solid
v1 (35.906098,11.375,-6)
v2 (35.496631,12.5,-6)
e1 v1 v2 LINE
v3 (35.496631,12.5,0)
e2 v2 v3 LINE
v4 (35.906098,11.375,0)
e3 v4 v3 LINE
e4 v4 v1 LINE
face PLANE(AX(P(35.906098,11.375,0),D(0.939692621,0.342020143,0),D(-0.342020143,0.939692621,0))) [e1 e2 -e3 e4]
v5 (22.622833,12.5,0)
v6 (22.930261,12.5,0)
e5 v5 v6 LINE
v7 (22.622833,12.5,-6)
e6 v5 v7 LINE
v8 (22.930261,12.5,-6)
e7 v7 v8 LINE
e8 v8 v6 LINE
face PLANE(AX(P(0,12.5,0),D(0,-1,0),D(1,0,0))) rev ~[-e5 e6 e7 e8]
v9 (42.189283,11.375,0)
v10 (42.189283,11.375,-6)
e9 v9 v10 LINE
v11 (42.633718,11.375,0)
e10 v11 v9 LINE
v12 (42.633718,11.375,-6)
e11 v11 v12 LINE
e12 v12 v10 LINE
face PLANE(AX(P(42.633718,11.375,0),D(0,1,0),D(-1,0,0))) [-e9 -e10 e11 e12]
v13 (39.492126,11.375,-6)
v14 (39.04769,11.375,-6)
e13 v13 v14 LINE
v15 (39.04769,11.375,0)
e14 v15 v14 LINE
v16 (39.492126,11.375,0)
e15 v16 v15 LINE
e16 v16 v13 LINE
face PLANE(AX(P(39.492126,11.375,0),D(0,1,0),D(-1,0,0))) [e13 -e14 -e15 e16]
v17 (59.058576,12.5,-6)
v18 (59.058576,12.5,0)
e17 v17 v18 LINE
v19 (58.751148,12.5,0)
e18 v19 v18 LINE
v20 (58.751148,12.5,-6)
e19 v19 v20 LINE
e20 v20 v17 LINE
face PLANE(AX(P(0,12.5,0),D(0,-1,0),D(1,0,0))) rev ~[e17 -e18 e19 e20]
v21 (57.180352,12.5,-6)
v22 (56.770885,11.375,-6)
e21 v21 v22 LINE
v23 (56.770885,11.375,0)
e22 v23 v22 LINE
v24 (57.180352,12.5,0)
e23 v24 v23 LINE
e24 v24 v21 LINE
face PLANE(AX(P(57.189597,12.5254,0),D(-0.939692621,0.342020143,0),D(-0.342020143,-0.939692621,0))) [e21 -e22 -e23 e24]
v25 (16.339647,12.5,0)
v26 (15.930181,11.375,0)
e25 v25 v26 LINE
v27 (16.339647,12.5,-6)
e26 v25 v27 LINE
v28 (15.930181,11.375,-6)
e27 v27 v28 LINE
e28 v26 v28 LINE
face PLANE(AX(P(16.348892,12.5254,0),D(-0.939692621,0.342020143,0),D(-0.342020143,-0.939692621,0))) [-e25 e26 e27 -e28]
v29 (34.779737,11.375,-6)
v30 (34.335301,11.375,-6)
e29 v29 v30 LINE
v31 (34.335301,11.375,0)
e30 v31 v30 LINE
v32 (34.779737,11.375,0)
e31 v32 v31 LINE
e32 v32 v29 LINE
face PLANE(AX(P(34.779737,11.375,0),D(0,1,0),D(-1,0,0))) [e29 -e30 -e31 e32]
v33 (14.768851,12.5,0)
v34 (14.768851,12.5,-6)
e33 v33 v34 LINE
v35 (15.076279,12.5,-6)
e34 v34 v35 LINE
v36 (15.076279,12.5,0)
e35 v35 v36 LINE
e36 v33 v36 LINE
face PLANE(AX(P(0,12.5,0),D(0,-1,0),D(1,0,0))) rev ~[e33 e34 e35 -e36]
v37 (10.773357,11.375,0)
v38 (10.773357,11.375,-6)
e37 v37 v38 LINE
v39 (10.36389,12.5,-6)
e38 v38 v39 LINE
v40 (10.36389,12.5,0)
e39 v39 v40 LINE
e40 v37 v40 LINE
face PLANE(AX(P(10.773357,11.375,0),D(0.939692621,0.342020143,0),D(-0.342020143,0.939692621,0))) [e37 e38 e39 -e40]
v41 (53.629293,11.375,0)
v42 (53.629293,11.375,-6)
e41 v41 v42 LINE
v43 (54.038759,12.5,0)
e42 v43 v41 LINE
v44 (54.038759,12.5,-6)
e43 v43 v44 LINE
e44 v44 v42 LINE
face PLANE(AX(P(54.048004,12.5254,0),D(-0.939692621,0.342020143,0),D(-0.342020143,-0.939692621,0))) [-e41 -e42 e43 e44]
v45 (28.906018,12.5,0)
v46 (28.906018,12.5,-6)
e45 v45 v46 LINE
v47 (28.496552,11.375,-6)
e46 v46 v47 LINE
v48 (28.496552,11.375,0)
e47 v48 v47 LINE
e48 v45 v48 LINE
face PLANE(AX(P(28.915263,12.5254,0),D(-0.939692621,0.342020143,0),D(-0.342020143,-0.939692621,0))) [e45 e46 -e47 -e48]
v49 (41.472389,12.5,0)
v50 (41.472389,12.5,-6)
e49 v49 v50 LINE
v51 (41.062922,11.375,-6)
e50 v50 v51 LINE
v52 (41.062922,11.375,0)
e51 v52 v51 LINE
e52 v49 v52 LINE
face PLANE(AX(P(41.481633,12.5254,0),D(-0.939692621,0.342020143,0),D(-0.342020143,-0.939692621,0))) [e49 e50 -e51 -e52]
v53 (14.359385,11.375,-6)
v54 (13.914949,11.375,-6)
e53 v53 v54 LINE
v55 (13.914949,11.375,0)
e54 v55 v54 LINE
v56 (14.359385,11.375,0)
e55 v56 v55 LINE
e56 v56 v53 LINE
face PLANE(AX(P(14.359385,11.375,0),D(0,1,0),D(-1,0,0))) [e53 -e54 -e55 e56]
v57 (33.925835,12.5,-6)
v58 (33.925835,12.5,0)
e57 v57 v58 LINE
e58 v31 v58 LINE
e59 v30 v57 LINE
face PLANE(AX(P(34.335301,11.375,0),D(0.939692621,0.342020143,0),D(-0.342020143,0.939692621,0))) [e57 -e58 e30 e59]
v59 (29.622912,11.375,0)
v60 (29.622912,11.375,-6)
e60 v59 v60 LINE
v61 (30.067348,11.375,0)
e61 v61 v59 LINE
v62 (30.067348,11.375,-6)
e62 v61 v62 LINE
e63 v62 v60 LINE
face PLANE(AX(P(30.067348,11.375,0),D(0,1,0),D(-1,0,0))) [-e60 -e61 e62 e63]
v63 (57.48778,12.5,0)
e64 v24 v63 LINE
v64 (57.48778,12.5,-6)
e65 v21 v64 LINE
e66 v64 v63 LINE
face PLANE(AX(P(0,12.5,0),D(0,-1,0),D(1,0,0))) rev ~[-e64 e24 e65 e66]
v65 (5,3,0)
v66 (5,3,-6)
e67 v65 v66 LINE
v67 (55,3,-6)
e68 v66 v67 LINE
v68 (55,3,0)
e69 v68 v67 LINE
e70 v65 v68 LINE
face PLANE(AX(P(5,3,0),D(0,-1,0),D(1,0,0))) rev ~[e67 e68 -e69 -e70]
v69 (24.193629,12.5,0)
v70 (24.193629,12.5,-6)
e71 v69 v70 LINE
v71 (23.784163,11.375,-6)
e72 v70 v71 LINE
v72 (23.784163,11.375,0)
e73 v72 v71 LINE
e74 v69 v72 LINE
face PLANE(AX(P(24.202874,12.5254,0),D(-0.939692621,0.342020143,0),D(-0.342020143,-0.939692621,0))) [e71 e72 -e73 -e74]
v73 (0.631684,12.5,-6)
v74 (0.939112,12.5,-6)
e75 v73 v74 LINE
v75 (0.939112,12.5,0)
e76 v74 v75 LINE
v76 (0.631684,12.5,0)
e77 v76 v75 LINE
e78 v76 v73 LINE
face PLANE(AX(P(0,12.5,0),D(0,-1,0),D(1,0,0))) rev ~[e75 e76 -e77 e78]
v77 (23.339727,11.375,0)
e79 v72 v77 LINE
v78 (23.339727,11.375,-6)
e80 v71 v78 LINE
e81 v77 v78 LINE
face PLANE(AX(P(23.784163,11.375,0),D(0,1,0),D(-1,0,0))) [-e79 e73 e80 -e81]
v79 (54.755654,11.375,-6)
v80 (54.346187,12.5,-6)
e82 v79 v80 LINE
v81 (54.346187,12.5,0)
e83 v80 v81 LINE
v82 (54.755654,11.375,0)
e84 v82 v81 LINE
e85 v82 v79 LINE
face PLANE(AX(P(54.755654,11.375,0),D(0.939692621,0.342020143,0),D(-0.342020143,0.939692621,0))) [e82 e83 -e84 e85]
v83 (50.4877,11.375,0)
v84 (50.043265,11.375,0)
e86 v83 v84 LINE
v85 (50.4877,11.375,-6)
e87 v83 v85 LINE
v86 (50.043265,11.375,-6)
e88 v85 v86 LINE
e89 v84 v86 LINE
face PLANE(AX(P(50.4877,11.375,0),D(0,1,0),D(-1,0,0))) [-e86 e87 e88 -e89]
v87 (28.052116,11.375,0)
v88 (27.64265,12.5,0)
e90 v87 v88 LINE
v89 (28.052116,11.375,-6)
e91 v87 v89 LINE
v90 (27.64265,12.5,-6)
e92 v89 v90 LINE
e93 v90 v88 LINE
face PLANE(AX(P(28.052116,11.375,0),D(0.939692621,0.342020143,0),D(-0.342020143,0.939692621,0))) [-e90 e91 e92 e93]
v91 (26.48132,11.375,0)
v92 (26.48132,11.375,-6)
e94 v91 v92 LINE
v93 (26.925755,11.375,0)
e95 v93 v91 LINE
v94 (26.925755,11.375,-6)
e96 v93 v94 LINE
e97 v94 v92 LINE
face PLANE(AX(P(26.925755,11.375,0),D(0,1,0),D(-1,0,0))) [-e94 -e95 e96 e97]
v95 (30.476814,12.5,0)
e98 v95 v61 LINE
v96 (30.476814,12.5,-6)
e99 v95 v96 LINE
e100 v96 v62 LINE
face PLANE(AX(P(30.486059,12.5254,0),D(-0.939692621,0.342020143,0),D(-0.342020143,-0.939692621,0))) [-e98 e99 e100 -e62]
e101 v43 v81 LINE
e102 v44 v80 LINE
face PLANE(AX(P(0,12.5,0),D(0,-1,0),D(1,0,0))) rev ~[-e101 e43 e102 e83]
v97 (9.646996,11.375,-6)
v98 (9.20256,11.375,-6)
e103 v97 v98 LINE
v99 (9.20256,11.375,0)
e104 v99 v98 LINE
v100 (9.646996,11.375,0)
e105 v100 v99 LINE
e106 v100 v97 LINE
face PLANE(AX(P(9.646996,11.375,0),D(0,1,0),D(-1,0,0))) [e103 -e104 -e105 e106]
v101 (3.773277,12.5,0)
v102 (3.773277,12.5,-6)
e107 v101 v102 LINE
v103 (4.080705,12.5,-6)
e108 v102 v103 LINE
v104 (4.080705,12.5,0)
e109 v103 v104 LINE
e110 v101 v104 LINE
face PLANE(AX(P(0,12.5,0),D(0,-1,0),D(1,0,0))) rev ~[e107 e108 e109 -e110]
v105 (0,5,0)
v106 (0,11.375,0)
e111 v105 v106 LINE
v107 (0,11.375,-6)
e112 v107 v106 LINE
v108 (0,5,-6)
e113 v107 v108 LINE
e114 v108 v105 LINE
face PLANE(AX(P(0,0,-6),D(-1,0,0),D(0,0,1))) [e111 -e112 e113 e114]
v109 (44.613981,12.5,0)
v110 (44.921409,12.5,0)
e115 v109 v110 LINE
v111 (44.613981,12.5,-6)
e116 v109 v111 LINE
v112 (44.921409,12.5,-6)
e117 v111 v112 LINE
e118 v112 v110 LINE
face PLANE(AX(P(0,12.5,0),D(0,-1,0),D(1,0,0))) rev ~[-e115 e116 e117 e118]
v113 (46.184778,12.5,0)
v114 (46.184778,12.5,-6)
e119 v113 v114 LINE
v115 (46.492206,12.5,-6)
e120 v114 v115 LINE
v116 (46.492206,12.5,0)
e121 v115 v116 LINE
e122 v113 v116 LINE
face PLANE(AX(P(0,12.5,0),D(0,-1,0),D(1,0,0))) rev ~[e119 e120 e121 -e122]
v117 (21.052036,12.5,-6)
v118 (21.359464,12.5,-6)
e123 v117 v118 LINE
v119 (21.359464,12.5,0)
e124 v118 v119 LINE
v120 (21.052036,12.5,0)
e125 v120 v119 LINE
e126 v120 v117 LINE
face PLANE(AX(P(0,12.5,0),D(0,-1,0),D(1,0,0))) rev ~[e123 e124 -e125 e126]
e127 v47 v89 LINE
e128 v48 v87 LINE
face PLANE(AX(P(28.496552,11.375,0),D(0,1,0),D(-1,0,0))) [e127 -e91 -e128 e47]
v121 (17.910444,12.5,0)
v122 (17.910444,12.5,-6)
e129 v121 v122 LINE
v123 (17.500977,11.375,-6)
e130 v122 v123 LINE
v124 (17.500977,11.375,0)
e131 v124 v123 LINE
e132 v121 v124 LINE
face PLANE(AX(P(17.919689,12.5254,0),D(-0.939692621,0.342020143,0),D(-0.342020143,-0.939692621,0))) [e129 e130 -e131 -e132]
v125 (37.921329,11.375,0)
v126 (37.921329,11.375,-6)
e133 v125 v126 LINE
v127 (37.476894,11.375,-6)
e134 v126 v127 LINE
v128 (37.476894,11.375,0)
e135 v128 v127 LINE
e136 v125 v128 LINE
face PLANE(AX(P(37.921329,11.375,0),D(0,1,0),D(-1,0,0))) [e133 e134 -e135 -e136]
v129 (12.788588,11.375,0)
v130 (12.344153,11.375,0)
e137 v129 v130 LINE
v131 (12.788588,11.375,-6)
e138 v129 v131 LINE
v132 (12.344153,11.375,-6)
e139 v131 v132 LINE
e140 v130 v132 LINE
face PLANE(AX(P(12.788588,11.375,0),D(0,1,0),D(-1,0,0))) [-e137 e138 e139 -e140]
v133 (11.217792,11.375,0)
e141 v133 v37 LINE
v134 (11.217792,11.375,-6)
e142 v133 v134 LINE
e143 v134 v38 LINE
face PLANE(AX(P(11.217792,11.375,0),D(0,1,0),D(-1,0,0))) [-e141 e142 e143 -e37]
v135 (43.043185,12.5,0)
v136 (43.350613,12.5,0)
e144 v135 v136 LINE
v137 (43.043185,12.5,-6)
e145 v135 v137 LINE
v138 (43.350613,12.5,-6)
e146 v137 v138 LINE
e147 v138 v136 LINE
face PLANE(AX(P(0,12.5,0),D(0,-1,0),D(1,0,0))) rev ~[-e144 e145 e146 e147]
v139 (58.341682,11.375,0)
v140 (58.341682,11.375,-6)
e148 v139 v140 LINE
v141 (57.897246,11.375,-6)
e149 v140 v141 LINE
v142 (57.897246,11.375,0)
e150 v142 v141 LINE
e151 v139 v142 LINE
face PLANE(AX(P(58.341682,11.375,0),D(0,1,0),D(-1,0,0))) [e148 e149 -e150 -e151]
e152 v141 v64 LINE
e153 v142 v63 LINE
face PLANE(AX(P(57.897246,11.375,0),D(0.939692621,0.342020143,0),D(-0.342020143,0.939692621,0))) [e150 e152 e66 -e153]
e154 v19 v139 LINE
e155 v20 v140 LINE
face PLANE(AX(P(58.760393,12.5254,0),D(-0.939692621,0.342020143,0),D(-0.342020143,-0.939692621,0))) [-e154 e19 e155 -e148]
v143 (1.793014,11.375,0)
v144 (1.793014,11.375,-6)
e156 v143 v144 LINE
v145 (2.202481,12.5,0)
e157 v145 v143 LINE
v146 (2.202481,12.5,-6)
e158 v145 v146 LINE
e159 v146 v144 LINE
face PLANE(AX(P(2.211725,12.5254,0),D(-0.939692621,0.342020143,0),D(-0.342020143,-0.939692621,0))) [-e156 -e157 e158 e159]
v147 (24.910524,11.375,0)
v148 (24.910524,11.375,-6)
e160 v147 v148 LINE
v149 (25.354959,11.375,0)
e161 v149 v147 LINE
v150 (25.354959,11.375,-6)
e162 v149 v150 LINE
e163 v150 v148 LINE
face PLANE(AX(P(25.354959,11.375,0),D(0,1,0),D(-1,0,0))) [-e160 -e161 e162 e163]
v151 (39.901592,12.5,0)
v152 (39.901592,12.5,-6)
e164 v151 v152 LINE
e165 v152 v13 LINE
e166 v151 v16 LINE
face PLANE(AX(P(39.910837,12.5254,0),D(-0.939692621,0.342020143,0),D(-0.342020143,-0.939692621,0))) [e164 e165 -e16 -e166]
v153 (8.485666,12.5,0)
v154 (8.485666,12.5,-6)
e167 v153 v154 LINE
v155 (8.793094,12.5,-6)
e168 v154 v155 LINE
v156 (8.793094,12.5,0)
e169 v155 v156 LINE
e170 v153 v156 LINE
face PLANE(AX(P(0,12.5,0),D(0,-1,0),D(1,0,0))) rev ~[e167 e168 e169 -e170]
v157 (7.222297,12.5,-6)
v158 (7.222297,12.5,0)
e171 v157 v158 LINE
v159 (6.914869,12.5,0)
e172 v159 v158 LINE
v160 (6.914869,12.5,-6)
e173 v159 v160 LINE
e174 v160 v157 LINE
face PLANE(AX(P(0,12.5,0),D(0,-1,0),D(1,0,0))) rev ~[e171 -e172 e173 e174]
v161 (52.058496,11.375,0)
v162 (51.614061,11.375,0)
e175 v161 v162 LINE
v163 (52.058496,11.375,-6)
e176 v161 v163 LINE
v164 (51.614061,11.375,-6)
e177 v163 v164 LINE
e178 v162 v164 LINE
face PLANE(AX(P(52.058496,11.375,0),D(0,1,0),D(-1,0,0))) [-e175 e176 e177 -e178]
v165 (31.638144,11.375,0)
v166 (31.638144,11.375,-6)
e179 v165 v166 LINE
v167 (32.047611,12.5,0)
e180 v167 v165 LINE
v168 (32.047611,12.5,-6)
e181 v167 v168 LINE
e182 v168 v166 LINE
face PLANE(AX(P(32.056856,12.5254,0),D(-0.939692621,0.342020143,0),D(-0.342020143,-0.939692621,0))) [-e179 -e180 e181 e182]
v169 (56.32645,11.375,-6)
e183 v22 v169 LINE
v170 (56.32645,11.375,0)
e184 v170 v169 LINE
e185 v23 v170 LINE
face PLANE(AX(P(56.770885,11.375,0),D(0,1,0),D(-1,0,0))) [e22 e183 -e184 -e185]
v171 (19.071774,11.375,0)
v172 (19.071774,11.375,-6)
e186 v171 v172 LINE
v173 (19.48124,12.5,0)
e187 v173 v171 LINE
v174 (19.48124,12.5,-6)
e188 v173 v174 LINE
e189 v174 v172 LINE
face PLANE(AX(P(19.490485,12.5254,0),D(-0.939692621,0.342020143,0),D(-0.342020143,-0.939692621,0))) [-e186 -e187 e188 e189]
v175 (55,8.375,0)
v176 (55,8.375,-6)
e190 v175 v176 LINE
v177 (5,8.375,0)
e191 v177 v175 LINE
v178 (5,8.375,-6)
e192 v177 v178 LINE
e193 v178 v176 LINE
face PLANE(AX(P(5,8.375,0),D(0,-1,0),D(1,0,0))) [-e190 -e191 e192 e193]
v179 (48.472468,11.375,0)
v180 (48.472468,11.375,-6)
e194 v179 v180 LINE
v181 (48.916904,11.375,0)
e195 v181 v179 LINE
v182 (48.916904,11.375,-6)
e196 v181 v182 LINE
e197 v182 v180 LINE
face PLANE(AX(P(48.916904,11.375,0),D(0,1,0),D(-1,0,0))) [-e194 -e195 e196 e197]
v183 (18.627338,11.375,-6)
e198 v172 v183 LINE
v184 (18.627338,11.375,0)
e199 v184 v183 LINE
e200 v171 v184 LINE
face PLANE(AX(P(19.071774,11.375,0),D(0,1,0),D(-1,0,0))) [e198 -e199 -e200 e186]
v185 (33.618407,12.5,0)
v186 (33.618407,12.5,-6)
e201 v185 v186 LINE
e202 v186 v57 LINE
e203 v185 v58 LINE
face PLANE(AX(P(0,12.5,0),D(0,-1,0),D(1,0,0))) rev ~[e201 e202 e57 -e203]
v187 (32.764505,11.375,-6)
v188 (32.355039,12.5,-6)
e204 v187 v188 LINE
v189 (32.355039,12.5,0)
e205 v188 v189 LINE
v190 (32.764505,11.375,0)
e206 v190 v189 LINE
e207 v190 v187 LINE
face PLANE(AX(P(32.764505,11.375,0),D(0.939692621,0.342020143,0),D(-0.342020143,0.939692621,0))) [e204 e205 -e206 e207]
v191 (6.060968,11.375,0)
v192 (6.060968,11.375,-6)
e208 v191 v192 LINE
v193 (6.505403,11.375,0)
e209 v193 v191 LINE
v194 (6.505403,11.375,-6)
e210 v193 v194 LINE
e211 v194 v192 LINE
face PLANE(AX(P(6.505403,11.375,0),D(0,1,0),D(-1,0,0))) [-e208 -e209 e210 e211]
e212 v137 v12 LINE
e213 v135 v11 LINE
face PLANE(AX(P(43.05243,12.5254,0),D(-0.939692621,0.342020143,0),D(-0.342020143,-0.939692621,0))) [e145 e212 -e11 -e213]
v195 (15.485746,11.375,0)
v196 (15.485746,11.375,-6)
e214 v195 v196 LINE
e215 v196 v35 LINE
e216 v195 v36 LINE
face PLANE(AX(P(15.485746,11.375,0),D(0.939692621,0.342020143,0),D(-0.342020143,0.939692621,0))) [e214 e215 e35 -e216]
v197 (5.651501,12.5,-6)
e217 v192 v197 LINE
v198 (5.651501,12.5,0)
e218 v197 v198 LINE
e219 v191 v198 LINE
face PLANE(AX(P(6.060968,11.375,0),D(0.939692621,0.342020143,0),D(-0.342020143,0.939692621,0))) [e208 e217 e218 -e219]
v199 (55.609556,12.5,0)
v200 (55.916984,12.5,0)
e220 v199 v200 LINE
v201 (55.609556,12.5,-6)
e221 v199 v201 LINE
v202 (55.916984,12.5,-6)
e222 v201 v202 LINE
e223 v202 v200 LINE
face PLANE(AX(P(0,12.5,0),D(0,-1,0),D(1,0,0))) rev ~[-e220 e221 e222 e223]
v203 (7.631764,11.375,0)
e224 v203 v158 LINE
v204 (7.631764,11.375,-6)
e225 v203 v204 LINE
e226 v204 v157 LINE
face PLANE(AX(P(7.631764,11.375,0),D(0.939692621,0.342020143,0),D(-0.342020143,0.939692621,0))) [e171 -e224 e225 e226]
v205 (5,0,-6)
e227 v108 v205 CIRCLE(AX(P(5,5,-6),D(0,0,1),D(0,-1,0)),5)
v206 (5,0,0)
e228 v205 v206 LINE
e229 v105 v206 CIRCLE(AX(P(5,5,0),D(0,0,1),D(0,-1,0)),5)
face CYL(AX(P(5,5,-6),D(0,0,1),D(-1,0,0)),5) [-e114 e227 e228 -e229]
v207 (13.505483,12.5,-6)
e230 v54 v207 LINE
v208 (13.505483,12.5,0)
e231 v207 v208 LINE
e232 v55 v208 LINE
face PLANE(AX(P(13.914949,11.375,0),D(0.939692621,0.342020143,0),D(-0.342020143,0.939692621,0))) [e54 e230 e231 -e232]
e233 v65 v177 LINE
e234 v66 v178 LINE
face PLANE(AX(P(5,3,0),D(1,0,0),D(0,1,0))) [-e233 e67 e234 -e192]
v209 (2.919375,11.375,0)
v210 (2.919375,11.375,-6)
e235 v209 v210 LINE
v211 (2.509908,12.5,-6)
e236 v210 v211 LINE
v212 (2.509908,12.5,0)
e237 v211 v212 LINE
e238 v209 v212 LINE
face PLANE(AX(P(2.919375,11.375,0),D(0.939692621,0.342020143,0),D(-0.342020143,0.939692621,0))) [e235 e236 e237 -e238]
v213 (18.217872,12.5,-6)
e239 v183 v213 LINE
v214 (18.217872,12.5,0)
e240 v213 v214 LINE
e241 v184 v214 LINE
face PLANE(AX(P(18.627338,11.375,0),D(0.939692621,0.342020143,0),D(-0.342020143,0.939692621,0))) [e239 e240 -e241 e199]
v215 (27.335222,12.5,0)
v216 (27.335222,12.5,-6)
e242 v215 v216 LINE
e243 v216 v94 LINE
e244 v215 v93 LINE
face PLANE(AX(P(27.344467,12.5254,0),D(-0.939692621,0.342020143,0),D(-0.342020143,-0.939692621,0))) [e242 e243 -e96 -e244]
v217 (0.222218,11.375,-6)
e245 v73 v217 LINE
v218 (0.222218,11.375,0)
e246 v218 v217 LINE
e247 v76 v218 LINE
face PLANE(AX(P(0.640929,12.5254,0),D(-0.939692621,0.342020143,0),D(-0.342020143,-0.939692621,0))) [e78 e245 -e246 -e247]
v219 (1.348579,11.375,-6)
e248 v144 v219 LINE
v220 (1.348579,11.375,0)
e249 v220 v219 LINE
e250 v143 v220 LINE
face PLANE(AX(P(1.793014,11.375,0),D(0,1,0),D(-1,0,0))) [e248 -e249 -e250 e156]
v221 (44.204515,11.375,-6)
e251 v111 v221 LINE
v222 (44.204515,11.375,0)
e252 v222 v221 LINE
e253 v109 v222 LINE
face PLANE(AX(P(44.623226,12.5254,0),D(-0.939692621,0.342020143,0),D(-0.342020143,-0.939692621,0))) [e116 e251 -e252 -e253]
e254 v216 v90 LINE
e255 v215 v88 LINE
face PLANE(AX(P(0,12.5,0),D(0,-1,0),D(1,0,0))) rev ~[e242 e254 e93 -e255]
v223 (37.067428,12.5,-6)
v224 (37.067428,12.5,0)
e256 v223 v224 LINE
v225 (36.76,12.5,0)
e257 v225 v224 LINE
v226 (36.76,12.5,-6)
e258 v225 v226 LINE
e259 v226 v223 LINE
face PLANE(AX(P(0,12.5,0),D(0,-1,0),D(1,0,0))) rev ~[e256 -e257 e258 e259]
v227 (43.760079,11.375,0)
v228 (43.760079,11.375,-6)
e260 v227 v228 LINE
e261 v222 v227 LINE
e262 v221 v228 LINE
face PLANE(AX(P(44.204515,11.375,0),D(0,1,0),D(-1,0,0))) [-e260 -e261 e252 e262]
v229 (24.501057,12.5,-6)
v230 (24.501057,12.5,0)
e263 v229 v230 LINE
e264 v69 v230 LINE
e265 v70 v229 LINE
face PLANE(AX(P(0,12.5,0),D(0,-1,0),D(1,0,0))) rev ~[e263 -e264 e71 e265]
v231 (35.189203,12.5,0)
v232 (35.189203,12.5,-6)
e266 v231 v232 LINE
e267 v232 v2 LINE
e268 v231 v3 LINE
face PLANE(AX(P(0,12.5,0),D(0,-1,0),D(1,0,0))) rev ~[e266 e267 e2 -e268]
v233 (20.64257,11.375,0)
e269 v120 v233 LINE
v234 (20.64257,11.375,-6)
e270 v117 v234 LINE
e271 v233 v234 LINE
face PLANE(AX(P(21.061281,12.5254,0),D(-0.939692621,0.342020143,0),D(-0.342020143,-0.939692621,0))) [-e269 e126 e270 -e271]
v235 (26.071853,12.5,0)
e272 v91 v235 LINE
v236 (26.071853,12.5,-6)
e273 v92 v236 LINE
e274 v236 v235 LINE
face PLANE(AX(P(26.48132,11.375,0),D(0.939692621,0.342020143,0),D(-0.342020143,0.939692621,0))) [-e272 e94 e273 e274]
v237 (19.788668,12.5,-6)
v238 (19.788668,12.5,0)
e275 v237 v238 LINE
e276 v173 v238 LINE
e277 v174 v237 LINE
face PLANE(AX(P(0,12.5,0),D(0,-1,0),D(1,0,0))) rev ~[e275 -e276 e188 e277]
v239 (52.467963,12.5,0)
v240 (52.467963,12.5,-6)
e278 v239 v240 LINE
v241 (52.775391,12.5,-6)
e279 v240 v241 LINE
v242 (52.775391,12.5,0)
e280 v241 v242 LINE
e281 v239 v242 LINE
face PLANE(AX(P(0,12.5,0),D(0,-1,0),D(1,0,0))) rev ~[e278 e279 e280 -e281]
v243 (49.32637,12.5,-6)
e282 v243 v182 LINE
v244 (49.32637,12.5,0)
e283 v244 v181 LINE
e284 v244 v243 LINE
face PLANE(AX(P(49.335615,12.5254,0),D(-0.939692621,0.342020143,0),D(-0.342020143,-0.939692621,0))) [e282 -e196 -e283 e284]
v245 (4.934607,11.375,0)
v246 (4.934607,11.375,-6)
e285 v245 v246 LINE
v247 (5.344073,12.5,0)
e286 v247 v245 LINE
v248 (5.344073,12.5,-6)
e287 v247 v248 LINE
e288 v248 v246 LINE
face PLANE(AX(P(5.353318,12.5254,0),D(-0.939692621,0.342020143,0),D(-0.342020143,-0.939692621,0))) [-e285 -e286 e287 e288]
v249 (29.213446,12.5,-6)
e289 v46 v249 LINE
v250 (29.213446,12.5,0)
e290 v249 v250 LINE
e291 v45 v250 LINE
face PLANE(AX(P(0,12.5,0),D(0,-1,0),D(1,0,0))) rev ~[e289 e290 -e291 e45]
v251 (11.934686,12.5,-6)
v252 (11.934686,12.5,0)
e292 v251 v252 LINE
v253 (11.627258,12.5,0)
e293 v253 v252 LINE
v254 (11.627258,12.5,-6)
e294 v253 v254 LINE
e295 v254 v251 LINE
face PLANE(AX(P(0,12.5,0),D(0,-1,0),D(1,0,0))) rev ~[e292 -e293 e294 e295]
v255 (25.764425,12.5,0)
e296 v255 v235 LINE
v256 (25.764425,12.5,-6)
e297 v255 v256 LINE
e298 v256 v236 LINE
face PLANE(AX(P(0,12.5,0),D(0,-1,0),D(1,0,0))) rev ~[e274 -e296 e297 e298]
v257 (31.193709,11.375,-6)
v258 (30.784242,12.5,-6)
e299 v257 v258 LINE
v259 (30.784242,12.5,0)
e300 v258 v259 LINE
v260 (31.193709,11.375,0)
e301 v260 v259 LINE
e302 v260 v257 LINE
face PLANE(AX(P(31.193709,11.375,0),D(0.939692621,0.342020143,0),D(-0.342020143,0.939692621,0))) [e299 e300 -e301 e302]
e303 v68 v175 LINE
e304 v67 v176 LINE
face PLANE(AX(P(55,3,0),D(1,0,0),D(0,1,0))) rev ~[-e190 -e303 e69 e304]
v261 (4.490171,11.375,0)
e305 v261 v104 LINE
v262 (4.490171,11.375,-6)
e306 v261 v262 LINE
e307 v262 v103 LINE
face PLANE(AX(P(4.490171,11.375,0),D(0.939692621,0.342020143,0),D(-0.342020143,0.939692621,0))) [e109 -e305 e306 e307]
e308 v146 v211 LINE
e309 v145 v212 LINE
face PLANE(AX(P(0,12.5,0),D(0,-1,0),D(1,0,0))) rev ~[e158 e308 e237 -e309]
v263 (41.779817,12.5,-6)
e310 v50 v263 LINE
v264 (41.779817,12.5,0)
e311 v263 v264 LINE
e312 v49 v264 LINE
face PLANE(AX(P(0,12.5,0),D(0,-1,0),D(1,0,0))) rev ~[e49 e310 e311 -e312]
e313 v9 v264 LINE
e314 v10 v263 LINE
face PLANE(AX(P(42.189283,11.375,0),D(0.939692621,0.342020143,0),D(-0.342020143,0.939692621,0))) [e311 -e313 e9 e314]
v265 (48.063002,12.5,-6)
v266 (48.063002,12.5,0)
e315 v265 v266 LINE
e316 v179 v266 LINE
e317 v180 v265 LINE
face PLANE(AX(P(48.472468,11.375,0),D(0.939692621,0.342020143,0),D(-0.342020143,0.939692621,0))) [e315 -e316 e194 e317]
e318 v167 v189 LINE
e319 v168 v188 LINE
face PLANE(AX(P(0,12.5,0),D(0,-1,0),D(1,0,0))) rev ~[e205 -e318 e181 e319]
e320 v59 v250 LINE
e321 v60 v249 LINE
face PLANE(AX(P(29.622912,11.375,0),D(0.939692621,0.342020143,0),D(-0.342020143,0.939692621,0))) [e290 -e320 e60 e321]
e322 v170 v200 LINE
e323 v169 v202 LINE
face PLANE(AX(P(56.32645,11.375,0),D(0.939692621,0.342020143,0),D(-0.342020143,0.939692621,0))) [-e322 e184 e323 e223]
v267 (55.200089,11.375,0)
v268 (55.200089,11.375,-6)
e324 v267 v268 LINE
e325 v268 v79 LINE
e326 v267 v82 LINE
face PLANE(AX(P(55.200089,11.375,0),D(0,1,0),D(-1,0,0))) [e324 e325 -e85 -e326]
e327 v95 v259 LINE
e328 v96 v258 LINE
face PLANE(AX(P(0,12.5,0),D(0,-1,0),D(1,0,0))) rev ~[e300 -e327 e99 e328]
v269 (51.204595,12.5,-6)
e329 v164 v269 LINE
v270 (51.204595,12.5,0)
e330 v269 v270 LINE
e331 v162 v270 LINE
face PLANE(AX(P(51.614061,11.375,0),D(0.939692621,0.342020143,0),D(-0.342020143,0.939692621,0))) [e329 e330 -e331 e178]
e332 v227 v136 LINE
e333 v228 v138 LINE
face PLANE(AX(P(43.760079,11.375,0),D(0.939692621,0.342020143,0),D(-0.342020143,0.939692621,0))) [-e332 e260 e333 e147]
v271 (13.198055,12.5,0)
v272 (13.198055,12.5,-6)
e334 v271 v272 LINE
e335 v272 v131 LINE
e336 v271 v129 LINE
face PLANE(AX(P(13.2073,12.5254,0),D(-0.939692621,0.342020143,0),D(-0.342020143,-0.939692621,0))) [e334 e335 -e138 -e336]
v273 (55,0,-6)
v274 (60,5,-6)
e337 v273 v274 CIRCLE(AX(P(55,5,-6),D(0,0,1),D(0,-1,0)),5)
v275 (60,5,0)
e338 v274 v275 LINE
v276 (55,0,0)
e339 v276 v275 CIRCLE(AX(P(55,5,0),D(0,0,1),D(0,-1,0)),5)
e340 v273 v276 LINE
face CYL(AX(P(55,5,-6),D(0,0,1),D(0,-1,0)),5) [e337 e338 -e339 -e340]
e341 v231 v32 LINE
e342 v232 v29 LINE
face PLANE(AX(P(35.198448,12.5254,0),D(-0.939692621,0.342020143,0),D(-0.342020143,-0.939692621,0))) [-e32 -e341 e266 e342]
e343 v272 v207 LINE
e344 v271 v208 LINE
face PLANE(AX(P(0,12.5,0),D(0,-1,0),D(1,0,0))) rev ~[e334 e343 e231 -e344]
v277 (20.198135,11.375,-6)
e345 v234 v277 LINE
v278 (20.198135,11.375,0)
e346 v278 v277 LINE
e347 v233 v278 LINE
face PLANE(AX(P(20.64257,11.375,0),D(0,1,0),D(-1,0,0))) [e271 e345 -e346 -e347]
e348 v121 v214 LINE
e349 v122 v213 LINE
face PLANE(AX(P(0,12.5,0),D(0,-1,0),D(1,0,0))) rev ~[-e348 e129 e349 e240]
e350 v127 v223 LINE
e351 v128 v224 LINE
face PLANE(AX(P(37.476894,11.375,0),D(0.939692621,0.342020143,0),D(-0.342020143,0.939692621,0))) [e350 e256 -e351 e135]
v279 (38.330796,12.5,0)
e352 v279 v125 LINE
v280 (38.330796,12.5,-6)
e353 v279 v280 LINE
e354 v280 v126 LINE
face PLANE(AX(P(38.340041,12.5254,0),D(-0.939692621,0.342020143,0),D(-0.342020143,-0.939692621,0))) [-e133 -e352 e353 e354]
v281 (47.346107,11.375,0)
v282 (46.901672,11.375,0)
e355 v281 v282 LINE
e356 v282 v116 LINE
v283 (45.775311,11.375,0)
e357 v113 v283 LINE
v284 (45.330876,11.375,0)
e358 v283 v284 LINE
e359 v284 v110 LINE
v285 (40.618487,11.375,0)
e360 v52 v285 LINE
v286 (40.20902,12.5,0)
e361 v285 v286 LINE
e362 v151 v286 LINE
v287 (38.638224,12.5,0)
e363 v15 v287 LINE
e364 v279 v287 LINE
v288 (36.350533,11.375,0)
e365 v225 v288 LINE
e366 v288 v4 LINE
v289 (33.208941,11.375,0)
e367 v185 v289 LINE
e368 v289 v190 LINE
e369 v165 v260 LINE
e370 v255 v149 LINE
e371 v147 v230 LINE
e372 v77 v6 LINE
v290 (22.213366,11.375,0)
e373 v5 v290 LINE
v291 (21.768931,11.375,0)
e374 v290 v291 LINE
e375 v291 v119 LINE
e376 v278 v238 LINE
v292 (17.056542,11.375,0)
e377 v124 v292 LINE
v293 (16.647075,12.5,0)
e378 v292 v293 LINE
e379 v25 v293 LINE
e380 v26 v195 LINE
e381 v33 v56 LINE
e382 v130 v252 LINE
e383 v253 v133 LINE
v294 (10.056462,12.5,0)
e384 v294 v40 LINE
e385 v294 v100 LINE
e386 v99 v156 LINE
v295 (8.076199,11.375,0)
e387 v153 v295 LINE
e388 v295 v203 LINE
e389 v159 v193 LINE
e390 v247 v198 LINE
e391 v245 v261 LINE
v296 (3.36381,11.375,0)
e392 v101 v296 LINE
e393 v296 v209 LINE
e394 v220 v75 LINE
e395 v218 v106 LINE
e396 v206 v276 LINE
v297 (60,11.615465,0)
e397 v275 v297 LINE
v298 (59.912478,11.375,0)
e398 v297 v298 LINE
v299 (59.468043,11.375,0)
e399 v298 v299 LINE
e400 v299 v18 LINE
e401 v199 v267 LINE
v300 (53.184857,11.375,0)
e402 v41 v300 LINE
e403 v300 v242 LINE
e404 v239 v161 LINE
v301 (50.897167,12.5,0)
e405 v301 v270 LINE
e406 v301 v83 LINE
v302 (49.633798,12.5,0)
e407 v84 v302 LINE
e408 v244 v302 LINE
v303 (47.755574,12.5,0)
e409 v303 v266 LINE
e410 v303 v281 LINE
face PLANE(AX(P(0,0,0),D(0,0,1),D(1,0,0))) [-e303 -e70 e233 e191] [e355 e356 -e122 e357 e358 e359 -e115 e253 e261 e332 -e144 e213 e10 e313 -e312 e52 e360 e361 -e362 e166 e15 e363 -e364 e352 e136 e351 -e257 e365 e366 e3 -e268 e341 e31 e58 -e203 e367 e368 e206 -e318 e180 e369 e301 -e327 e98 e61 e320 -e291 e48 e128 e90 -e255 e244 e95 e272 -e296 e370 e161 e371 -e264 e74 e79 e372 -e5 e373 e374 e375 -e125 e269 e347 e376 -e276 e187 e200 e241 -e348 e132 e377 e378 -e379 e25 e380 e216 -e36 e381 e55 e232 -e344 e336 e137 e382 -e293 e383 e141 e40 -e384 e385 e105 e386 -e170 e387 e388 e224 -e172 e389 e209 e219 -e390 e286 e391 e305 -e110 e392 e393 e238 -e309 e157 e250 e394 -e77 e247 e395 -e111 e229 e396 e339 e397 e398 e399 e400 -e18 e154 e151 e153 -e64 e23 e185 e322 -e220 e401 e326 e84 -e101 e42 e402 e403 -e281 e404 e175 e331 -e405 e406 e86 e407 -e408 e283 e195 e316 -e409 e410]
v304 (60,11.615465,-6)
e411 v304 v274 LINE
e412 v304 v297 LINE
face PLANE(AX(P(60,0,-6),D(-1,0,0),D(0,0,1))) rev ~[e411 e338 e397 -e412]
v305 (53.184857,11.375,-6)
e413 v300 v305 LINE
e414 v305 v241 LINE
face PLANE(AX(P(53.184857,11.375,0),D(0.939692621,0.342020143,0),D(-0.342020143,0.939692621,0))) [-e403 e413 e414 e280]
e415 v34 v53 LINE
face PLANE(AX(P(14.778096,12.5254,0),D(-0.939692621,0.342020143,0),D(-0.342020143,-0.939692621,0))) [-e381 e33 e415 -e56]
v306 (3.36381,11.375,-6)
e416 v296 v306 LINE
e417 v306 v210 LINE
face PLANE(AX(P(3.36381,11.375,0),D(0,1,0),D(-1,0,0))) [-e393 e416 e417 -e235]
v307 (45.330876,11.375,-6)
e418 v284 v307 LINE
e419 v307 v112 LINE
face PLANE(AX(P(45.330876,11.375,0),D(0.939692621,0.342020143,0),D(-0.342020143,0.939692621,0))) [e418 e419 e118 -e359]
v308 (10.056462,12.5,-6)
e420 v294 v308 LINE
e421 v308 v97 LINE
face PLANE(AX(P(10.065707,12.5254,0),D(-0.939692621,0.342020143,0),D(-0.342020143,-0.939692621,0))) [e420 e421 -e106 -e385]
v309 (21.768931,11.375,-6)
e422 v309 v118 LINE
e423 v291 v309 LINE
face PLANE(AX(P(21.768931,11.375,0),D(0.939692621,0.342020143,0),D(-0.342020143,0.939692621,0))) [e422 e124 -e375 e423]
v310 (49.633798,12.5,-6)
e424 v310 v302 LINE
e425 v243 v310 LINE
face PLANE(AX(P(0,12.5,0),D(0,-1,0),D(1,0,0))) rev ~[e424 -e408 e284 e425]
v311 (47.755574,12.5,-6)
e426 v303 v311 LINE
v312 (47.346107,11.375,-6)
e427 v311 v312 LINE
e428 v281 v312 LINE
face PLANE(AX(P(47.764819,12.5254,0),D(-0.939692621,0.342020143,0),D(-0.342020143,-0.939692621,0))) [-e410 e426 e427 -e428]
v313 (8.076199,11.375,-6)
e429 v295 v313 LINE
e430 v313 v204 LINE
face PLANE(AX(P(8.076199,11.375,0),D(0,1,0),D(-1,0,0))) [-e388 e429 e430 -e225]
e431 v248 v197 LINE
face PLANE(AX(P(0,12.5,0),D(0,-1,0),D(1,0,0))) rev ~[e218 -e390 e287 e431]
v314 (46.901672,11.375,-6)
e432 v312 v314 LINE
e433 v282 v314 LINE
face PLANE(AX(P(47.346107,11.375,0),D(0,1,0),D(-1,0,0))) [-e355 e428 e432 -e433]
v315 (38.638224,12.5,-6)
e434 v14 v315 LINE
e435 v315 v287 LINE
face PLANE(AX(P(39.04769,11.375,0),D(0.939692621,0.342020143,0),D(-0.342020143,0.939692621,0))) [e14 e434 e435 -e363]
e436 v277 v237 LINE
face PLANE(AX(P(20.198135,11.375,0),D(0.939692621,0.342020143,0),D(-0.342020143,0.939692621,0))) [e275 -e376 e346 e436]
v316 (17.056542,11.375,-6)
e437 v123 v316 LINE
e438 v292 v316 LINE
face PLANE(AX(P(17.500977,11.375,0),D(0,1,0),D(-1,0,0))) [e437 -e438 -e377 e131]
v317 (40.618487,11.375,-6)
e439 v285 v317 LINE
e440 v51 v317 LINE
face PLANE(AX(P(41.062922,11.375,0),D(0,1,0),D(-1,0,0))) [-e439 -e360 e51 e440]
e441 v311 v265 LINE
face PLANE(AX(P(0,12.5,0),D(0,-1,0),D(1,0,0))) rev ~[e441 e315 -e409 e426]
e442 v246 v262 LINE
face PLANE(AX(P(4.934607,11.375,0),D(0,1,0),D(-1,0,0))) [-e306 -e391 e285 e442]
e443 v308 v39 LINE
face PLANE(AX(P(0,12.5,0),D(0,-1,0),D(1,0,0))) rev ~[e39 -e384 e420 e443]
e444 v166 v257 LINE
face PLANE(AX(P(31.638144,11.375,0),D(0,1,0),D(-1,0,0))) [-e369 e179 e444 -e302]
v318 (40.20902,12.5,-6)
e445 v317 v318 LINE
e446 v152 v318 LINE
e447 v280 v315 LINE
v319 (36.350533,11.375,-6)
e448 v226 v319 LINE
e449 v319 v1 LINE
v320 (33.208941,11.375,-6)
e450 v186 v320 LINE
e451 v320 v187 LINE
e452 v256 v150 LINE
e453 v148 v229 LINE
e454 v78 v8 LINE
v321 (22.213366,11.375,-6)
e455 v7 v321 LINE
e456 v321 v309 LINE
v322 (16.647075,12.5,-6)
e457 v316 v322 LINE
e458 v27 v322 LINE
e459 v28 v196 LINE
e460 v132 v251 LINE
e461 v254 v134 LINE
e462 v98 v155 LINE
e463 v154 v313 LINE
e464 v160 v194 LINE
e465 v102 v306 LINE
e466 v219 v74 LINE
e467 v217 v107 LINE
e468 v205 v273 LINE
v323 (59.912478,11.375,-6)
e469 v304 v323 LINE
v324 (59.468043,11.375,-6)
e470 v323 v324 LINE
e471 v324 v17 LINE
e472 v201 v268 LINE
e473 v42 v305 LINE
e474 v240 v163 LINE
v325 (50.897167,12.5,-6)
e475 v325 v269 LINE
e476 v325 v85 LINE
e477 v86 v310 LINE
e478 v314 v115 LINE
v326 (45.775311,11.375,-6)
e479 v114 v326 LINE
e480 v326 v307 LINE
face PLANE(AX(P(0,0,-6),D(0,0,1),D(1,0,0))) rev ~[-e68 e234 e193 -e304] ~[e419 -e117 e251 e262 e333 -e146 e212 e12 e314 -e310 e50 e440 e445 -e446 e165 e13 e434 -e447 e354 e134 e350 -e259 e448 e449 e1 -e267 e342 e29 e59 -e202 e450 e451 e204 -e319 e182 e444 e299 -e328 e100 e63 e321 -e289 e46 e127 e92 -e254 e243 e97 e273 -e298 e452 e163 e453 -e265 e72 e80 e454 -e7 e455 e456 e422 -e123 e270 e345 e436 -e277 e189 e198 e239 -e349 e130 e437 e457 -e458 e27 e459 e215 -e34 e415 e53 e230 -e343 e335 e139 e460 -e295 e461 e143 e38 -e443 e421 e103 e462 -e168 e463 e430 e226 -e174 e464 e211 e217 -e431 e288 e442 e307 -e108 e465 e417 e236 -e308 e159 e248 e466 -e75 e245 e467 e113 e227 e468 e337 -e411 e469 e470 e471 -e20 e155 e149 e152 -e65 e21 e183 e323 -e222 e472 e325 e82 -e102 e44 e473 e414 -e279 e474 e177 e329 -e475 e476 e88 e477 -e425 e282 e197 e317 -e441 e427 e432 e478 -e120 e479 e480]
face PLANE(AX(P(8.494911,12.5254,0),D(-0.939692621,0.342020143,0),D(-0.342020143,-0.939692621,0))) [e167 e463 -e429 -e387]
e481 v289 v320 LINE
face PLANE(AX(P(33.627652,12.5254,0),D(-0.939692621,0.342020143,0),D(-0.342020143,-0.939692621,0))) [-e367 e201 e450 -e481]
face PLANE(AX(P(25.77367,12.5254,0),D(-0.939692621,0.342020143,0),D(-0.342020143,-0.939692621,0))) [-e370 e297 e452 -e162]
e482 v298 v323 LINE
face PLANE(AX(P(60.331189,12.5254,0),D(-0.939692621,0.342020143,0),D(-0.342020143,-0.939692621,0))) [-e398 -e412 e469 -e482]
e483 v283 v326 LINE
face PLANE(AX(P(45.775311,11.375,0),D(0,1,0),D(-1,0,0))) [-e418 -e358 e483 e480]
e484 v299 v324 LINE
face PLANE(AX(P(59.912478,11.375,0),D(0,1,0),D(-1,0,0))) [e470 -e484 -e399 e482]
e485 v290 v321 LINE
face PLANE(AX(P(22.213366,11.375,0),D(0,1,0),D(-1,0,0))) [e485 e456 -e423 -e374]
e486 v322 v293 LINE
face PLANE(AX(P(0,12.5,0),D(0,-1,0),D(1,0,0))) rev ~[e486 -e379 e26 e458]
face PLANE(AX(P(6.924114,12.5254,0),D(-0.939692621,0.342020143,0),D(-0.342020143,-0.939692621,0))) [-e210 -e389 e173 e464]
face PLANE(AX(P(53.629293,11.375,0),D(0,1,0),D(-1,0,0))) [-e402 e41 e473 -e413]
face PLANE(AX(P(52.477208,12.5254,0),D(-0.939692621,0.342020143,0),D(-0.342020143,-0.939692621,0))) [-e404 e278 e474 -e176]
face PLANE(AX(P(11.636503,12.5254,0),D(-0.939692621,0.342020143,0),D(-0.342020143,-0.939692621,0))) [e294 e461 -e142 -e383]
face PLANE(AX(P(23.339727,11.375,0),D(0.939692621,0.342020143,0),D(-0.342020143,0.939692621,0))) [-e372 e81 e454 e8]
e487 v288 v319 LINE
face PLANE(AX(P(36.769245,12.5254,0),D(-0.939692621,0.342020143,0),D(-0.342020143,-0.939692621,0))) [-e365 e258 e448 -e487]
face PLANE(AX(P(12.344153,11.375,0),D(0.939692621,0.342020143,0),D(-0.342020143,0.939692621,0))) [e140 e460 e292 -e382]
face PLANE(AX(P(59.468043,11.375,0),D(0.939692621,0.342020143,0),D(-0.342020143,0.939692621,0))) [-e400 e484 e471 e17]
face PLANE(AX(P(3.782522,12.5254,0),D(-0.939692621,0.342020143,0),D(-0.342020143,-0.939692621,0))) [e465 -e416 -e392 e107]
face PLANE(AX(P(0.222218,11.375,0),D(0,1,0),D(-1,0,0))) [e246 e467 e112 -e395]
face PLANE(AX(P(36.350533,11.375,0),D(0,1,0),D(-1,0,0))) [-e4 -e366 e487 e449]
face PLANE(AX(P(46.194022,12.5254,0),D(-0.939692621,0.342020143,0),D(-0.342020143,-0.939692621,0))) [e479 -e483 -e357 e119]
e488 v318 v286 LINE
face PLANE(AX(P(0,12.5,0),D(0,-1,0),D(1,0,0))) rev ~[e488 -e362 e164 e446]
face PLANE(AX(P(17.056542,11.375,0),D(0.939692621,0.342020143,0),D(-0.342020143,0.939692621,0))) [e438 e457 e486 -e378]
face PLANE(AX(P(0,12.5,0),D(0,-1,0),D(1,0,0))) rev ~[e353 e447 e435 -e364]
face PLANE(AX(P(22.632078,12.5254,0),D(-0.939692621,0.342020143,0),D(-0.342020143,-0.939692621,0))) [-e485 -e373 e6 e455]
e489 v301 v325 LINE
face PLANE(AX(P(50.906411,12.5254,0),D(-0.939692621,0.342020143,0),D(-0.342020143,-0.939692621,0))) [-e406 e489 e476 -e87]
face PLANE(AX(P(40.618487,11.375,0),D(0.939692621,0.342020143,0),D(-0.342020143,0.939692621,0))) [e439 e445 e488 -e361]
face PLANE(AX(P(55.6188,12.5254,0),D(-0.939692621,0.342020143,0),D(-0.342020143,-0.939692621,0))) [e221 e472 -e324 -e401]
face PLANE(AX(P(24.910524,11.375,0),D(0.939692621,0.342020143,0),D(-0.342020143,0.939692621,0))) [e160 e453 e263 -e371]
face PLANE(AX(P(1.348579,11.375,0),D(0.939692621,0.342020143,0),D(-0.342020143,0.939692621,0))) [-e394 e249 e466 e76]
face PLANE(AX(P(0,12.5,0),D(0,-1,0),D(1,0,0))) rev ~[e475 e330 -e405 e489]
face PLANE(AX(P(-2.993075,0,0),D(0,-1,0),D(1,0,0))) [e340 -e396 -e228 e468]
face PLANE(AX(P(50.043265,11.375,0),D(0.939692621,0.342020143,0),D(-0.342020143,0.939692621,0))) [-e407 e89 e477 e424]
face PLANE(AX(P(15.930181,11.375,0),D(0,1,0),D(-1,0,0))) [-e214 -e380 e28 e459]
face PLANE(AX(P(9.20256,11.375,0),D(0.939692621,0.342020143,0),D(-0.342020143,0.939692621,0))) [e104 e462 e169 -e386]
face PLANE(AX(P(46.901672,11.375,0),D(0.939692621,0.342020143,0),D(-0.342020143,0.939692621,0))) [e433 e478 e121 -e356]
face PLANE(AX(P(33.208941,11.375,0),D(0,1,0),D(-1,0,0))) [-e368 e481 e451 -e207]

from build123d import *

# Parameters (mm, degrees)
BLANKSKE_W          = 60
BLANKSKE_H          = 12.5
BLANK_DEPTH         = 6
TOOTHCUTSIM_DEPTH   = 62.581247146
TEETHCUTS_COUNT     = 39
TEETHCUTS_PITCH     = 1.570796325
SKETCH1_W           = 60
SKETCH1_H           = 6
BOSS_EXTRUDE1_DEPTH = 10
SKETCH4_W           = 88.884112985
SKETCH4_H           = 15.47203355
CUT_EXTRUDE3_DEPTH  = 62.581247146
SKETCH3_W           = 50
SKETCH3_H           = 5.375
CUT_EXTRUDE2_DEPTH  = 10
FILLET3_R           = 5


with BuildPart() as part:
    # BlankSke → Blank (new body)
    with BuildSketch(Plane.XY):
        with Locations((30, 6.25)):
            Rectangle(BLANKSKE_W, BLANKSKE_H)
    extrude(amount=-BLANK_DEPTH)

    # TooCutSkeSim → ToothCutSim (cut, through all)
    with BuildSketch(Plane.XY):
        Polygon((0.222217685, 11.375), (-0.222217685, 11.375), (-0.640929042, 12.5254), (0.640929042, 12.5254), align=None)
    toothcutsim = extrude(amount=-TOOTHCUTSIM_DEPTH, mode=Mode.SUBTRACT)

    # TeethCuts: ToothCutSim ×39
    with Locations(*[(i * TEETHCUTS_PITCH, 0, 0) for i in range(1, TEETHCUTS_COUNT)]):
        add(toothcutsim, mode=Mode.SUBTRACT)

    # Sketch1 → Boss-Extrude1 (add)
    with BuildSketch(Plane.XZ):
        with Locations((30, -3)):
            Rectangle(SKETCH1_W, SKETCH1_H)
    extrude(amount=BOSS_EXTRUDE1_DEPTH)

    # Sketch4 → Cut-Extrude3 (cut, through all)
    with BuildSketch(Plane.XY):
        with Locations((41.448981395, -7.736016775)):
            Rectangle(SKETCH4_W, SKETCH4_H)
    extrude(amount=-CUT_EXTRUDE3_DEPTH, mode=Mode.SUBTRACT)

    # Sketch3 → Cut-Extrude2 (cut)
    with BuildSketch(Plane.XY):
        with Locations((30, 5.6875)):
            Rectangle(SKETCH3_W, SKETCH3_H)
    extrude(amount=-CUT_EXTRUDE2_DEPTH, mode=Mode.SUBTRACT)

    # Fillet3
    fillet3_edges = [part.edges().sort_by_distance(p)[0] for p in [
        (0, 0, -3),
        (60, 0, -3),
    ]]
    fillet(fillet3_edges, radius=FILLET3_R)


solid = part.part
